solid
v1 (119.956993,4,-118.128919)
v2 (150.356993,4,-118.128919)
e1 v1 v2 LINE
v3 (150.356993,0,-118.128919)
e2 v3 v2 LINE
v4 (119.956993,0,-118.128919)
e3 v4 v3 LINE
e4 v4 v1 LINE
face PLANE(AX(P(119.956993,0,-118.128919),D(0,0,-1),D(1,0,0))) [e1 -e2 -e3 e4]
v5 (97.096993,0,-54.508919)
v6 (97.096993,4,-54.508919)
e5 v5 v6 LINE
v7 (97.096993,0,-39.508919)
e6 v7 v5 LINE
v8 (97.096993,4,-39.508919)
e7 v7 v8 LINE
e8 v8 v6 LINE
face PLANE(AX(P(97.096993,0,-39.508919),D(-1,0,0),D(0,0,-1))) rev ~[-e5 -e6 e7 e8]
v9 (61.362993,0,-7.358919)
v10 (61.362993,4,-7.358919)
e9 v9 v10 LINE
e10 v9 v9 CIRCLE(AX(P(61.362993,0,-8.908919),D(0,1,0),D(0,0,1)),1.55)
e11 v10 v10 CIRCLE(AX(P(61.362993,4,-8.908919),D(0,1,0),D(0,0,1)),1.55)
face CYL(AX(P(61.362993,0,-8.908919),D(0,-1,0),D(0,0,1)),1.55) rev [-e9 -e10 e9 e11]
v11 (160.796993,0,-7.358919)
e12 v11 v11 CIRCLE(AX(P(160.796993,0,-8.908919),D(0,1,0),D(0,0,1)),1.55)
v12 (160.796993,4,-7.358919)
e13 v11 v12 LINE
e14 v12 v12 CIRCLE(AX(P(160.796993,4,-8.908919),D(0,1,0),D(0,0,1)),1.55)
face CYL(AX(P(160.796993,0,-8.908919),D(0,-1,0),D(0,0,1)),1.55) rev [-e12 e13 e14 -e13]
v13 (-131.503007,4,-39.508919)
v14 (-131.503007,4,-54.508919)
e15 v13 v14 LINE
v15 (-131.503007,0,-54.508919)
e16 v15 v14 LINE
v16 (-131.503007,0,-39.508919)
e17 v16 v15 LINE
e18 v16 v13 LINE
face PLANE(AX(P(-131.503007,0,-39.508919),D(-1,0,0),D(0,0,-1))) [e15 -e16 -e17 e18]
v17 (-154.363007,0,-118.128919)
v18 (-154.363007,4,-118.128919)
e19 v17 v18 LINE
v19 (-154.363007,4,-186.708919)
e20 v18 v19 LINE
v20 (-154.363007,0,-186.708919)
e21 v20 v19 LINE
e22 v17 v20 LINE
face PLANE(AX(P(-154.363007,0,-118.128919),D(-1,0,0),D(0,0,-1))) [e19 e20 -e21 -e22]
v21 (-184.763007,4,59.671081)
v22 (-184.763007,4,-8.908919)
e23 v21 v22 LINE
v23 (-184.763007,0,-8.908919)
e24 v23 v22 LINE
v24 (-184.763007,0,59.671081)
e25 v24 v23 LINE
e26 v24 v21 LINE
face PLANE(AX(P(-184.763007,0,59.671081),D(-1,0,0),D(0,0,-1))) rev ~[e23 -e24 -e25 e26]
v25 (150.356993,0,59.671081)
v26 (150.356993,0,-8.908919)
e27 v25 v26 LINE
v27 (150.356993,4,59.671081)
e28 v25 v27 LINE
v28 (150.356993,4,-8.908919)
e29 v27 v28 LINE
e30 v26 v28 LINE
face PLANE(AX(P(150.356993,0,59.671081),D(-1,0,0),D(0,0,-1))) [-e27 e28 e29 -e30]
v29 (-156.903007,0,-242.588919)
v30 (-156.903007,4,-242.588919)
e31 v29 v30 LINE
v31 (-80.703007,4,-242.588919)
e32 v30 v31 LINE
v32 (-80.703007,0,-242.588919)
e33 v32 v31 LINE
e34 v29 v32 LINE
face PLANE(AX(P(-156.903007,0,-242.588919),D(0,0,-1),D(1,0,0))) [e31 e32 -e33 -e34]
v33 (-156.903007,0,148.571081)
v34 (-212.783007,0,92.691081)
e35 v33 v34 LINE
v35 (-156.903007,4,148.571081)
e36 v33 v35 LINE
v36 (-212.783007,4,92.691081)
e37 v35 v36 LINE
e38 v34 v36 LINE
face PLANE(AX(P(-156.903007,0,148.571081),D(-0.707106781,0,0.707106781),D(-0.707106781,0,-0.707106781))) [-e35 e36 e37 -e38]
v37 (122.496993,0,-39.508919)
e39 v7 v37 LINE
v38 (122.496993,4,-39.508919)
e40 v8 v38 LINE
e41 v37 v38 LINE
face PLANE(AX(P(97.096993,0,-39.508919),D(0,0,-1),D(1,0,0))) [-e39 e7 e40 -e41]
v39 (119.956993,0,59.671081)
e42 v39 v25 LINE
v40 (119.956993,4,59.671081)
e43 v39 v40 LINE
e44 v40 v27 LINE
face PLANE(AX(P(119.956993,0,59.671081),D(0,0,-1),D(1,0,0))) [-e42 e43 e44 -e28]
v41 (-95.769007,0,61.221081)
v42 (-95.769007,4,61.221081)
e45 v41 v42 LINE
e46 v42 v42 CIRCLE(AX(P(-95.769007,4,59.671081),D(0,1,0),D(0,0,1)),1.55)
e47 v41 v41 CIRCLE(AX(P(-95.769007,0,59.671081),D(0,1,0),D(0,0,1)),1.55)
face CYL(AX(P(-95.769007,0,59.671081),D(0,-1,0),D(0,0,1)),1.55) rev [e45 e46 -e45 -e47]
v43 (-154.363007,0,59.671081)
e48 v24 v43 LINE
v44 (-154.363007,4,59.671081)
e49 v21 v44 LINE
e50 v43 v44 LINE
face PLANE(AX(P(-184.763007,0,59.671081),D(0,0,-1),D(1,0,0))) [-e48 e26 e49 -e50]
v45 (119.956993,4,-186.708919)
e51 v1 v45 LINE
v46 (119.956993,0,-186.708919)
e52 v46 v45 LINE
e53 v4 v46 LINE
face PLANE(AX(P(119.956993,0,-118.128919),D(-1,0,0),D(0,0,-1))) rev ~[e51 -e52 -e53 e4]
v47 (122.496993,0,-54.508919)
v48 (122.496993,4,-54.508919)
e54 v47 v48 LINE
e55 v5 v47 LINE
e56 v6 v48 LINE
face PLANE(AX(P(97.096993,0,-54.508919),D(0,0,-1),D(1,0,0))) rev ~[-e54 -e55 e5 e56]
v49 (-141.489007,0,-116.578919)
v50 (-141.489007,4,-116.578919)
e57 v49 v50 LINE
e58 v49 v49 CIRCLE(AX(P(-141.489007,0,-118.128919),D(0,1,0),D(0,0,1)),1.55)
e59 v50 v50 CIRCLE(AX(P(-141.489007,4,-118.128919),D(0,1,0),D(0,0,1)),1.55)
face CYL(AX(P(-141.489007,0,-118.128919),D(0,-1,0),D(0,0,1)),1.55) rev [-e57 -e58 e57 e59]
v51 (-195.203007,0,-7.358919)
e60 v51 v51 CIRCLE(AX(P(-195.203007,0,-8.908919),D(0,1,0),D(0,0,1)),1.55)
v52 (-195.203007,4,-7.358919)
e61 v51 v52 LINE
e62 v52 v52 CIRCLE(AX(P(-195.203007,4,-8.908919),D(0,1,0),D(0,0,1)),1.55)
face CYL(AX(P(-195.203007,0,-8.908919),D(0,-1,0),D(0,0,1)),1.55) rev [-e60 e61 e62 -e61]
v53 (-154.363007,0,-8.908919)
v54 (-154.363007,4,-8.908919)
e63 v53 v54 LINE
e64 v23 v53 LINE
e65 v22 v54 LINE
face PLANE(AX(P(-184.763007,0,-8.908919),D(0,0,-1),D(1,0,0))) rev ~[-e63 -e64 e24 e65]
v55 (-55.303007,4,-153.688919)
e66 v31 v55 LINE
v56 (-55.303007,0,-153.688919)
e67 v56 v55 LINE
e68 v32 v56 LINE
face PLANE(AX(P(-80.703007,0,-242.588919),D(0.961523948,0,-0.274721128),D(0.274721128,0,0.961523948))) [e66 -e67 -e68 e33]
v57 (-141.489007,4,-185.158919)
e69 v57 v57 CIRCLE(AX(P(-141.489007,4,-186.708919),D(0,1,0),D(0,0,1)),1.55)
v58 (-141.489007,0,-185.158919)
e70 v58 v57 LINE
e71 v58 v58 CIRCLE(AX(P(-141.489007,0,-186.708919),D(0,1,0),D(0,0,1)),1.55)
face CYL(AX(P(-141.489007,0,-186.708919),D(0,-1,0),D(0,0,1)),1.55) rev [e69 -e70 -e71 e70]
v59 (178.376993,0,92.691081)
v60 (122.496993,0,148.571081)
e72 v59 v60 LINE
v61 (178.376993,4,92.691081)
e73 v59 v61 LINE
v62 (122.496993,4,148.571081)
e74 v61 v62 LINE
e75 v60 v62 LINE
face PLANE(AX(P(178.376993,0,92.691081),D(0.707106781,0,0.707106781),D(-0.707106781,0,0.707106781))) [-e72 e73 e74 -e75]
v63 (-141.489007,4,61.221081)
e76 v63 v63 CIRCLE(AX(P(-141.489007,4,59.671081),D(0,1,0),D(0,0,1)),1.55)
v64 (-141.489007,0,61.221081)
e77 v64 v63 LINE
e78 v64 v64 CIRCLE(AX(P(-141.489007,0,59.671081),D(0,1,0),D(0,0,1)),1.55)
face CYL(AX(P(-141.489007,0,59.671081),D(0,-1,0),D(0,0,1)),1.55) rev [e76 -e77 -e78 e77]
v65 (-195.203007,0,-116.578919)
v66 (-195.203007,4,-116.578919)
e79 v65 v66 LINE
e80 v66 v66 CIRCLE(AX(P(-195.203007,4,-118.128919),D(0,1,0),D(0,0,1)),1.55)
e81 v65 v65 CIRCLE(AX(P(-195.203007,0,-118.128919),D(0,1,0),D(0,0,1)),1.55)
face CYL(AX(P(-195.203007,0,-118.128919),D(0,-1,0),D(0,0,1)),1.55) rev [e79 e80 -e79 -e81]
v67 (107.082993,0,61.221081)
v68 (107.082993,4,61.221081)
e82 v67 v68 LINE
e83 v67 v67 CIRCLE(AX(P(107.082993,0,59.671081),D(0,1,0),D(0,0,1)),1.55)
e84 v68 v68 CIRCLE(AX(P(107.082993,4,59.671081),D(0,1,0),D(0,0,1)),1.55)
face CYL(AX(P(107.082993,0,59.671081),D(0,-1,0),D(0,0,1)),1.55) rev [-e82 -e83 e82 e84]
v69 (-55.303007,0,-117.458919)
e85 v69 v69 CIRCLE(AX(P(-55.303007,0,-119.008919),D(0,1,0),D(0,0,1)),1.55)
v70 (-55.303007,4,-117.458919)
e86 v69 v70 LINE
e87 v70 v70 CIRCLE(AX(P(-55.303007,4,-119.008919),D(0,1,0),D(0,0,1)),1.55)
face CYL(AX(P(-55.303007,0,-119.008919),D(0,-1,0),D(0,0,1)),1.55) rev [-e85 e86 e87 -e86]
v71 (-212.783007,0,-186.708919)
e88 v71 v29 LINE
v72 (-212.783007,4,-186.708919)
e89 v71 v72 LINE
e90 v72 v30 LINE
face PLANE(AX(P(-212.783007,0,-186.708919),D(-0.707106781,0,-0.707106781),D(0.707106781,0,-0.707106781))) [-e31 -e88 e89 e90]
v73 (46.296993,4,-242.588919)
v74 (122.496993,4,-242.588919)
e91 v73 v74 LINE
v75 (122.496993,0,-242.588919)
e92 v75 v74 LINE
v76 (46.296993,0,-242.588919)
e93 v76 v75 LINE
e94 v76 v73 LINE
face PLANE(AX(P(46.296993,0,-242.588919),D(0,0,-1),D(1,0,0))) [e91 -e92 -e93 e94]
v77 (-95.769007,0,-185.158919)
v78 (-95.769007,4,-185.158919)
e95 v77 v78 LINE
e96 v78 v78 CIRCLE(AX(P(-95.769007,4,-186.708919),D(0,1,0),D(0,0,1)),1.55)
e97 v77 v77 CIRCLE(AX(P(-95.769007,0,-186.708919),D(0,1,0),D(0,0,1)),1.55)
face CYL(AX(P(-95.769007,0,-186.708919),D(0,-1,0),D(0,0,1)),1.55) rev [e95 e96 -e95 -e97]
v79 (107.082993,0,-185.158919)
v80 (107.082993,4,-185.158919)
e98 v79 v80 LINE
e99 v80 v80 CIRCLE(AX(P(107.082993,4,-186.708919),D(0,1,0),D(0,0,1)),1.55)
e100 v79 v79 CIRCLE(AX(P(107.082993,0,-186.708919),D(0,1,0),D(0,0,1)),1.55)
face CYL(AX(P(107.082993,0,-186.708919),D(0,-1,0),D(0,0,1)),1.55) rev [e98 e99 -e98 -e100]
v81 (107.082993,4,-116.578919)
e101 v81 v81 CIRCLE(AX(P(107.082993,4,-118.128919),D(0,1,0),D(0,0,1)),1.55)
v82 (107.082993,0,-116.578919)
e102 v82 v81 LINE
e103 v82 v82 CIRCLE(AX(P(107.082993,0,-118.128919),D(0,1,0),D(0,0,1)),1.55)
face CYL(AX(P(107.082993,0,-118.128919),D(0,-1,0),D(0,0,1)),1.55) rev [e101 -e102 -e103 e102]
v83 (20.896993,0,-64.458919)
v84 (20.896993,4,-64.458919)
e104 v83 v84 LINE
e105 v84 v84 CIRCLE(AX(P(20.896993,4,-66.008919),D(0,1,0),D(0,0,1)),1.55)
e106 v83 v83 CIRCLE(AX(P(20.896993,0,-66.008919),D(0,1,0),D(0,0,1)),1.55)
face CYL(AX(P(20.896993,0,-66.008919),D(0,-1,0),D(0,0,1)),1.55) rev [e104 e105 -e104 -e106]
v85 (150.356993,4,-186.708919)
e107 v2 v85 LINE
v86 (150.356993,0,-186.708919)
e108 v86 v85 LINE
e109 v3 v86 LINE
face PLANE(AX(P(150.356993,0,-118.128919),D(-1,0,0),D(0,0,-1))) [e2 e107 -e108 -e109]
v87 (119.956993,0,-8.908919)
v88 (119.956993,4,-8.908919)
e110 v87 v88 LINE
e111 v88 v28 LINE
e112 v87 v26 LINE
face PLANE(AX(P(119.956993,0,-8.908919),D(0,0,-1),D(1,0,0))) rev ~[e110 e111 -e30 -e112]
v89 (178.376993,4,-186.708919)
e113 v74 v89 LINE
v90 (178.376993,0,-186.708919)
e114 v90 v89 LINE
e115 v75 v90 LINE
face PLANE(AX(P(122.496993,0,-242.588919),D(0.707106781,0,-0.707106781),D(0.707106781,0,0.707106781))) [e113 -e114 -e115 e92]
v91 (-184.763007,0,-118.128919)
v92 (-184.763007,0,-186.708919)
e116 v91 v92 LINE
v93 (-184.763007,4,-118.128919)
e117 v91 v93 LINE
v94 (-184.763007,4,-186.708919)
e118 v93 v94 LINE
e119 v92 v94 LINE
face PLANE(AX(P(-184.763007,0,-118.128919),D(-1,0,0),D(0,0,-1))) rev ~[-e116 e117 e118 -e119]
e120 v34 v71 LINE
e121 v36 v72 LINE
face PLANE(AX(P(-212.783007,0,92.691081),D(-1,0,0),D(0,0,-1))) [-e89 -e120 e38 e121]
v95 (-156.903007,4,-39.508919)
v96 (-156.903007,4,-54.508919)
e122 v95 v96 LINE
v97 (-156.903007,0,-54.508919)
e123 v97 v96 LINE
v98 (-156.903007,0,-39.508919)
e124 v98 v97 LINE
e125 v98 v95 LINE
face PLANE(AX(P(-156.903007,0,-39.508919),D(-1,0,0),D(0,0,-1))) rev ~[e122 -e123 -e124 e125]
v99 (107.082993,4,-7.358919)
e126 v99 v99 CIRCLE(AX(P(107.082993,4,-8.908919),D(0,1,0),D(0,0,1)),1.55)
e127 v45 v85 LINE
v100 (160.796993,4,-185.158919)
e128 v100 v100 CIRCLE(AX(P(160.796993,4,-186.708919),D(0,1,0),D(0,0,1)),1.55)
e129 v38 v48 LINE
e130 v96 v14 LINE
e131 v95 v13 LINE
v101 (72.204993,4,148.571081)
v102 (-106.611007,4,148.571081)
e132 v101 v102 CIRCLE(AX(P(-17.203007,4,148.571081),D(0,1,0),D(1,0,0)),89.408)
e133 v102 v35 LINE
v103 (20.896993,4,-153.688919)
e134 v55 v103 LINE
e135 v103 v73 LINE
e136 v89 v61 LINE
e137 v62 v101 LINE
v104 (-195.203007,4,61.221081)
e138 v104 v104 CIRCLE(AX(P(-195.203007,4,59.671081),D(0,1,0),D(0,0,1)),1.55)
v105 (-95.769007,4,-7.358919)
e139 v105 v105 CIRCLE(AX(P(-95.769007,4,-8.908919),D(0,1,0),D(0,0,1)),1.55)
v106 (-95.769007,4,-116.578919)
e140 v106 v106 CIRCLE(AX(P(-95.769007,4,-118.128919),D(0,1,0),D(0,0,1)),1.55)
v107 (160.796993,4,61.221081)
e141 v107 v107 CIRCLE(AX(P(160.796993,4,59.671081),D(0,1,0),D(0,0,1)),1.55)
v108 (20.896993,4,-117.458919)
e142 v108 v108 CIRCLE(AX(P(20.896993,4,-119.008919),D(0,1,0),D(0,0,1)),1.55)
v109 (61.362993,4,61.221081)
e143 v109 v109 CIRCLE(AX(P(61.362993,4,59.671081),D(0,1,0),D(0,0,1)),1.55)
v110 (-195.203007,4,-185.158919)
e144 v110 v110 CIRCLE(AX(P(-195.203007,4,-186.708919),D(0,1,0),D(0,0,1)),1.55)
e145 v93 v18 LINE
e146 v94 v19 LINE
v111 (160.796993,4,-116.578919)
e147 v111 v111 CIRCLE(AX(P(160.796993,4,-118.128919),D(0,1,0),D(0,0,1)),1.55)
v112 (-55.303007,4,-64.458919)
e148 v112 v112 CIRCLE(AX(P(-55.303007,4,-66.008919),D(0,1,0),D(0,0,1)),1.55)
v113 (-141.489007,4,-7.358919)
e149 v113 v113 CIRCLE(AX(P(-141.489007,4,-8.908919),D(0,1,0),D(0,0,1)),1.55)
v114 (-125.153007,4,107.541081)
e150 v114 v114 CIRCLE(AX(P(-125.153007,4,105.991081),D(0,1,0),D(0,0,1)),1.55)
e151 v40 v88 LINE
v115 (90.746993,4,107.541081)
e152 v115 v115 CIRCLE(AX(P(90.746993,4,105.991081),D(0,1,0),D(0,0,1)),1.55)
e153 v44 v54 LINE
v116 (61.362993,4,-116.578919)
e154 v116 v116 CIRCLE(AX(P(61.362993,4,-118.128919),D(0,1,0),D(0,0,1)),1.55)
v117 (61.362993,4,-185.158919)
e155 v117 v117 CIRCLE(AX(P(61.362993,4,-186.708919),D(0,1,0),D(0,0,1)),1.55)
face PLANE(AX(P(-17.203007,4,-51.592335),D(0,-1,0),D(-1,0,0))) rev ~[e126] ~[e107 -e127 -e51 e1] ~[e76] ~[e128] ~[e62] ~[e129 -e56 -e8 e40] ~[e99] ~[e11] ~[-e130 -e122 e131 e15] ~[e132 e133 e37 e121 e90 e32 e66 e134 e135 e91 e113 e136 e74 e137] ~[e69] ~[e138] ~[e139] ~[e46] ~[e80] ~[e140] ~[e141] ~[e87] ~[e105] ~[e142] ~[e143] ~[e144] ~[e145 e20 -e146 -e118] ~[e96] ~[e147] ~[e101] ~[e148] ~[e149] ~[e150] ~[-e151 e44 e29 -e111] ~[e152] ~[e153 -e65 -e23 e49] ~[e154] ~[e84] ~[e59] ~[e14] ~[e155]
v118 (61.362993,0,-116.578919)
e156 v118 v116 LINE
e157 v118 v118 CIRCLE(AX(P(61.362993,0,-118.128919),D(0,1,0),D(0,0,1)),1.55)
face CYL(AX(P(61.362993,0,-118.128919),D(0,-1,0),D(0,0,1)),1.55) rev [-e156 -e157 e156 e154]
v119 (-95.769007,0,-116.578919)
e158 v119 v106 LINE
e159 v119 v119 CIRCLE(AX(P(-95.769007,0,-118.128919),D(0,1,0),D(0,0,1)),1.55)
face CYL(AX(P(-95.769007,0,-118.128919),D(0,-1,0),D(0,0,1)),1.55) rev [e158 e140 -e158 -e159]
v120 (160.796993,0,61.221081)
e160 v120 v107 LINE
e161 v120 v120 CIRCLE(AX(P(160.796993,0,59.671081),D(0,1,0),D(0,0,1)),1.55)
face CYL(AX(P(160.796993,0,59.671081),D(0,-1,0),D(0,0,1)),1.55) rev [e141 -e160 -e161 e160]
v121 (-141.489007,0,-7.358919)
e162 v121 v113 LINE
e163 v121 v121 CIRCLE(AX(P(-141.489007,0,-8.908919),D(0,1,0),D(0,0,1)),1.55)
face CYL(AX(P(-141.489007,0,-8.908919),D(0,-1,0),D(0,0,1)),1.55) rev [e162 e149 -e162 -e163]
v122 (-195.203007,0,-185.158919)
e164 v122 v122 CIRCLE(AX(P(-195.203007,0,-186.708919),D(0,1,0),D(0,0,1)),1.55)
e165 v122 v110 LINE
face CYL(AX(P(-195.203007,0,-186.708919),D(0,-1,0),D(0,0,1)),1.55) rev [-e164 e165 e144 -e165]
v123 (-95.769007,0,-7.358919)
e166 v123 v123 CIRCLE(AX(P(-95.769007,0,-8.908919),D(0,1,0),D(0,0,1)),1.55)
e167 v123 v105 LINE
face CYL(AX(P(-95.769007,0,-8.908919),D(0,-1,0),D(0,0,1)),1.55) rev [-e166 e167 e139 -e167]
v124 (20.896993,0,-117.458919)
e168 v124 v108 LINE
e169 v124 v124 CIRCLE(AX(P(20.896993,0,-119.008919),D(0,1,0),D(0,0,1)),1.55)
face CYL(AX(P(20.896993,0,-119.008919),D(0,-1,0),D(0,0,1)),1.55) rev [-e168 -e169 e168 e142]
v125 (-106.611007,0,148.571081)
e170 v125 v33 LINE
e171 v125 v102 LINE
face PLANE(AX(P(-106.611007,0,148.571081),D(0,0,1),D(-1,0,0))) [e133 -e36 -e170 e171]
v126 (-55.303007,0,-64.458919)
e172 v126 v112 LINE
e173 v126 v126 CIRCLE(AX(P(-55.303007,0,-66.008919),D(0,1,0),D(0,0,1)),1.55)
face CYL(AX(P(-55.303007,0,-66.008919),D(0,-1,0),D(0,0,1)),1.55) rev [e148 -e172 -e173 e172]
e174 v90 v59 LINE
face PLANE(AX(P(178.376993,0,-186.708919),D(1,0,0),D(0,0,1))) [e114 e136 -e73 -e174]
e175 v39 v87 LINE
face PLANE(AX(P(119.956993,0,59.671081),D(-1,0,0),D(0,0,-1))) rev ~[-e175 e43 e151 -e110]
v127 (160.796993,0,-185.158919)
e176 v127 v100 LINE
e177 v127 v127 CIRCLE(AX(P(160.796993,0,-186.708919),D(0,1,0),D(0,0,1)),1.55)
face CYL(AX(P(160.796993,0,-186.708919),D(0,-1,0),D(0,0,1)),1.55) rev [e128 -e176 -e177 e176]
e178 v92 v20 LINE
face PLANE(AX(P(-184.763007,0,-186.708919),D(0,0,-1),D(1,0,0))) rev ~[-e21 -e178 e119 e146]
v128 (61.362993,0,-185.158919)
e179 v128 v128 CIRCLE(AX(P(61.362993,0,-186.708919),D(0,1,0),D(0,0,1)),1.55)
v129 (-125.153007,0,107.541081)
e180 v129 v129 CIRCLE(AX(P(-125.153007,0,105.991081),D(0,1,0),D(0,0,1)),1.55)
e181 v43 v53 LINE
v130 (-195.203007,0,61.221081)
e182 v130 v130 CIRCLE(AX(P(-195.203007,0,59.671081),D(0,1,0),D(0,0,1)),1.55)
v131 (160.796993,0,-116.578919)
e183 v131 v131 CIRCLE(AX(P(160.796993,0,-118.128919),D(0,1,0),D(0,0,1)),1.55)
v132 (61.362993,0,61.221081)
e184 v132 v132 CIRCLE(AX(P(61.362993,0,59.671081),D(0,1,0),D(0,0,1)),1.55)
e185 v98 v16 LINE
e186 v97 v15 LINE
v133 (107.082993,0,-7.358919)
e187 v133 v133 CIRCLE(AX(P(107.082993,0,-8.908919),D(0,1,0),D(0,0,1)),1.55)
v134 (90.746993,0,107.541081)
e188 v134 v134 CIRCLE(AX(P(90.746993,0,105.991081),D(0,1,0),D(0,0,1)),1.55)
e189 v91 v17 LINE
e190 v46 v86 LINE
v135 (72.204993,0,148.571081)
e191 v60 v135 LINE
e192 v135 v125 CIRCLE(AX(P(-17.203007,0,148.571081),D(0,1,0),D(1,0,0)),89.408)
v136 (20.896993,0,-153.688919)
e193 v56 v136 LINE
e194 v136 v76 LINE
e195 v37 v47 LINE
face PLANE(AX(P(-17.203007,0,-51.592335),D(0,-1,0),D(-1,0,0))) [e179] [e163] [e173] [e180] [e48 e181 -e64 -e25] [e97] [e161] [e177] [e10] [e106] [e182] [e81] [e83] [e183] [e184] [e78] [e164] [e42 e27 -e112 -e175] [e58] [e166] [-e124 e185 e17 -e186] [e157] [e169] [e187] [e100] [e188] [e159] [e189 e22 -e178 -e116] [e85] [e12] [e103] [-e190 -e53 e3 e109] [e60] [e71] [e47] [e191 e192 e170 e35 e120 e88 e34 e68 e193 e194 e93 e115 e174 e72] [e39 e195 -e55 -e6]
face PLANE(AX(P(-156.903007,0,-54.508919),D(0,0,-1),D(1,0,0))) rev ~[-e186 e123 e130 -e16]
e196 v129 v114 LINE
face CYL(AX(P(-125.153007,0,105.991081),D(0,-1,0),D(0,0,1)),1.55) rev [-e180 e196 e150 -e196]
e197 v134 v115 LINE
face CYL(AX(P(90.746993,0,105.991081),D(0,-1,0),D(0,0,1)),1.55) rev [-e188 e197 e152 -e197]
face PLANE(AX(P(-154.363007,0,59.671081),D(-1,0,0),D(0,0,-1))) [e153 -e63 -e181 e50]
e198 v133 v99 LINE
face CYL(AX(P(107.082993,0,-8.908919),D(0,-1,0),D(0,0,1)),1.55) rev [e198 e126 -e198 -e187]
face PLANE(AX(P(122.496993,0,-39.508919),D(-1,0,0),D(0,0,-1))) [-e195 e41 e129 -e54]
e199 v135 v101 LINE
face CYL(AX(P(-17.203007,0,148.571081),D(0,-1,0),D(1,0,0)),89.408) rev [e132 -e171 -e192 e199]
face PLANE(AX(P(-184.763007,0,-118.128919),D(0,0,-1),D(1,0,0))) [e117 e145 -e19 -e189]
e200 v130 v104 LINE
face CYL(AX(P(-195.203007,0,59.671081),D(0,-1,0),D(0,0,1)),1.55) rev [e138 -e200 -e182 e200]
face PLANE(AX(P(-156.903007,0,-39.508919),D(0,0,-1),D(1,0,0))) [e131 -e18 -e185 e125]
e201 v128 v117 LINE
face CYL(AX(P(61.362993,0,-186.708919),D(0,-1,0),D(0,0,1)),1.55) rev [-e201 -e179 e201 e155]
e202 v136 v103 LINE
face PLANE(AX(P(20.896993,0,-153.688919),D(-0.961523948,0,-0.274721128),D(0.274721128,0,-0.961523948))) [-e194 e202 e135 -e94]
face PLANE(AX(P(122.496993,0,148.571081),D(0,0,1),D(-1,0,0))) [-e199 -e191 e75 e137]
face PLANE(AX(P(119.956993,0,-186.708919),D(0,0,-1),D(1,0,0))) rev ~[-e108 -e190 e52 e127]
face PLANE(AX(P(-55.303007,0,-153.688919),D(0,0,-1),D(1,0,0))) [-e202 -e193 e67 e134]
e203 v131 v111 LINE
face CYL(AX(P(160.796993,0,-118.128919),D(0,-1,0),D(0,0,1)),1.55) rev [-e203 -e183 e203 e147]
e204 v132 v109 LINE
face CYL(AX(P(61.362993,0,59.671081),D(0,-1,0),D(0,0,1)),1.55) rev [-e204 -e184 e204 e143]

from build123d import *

# Parameters (mm, degrees)
SKETCH_1_R      = 1.55
SKETCH_1_W      = 30.4
SKETCH_1_H      = 68.58
SKETCH_1_W_2    = 25.4
SKETCH_1_H_2    = 15
EXTRUDE_1_DEPTH = 4


with BuildPart() as part:
    # 草图1 → 凸台-拉伸1 (new body)
    with BuildSketch(Plane(origin=(0, 0, 0), x_dir=(1, 0, 0), z_dir=(0, 1, 0))):
        with BuildLine():
            Line((-212.783006705, -92.69108054), (-212.783006705, 186.70891946))
            Line((-212.783006705, 186.70891946), (-156.903006705, 242.58891946))
            Line((-156.903006705, 242.58891946), (-80.703006705, 242.58891946))
            Line((-80.703006705, 242.58891946), (-55.303006705, 153.68891946))
            Line((-55.303006705, 153.68891946), (20.896993295, 153.68891946))
            Line((20.896993295, 153.68891946), (46.296993295, 242.58891946))
            Line((46.296993295, 242.58891946), (122.496993295, 242.58891946))
            Line((122.496993295, 242.58891946), (178.376993295, 186.70891946))
            Line((178.376993295, 186.70891946), (178.376993295, -92.69108054))
            Line((178.376993295, -92.69108054), (122.496993295, -148.57108054))
            Line((122.496993295, -148.57108054), (72.204993295, -148.57108054))
            ThreePointArc((72.204993295, -148.57108054), (-17.203006705, -59.16308054), (-106.611006705, -148.57108054))
            Line((-106.611006705, -148.57108054), (-156.903006705, -148.57108054))
            Line((-156.903006705, -148.57108054), (-212.783006705, -92.69108054))
        make_face()
        with Locations(Location((-141.489006705, 186.70891946, 0), (0, 0, 270))):
            Circle(SKETCH_1_R, mode=Mode.SUBTRACT)
        with Locations(Location((20.896993295, 66.00891946, 0), (0, 0, 270))):
            Circle(SKETCH_1_R, mode=Mode.SUBTRACT)
        with Locations(Location((90.746993295, -105.99108054, 0), (0, 0, 270))):
            Circle(SKETCH_1_R, mode=Mode.SUBTRACT)
        with Locations(Location((-125.153006705, -105.99108054, 0), (0, 0, 270))):
            Circle(SKETCH_1_R, mode=Mode.SUBTRACT)
        with Locations(Location((-141.489006705, 118.12891946, 0), (0, 0, 270))):
            Circle(SKETCH_1_R, mode=Mode.SUBTRACT)
        with Locations(Location((-95.769006705, 118.12891946, 0), (0, 0, 270))):
            Circle(SKETCH_1_R, mode=Mode.SUBTRACT)
        with Locations(Location((107.082993295, 118.12891946, 0), (0, 0, 270))):
            Circle(SKETCH_1_R, mode=Mode.SUBTRACT)
        with Locations(Location((-141.489006705, 8.90891946, 0), (0, 0, 270))):
            Circle(SKETCH_1_R, mode=Mode.SUBTRACT)
        with Locations(Location((61.362993295, 118.12891946, 0), (0, 0, 270))):
            Circle(SKETCH_1_R, mode=Mode.SUBTRACT)
        with Locations(Location((61.362993295, 186.70891946, 0), (0, 0, 270))):
            Circle(SKETCH_1_R, mode=Mode.SUBTRACT)
        with Locations(Location((-141.489006705, -59.67108054, 0), (0, 0, 270))):
            Circle(SKETCH_1_R, mode=Mode.SUBTRACT)
        with Locations(Location((-95.769006705, -59.67108054, 0), (0, 0, 270))):
            Circle(SKETCH_1_R, mode=Mode.SUBTRACT)
        with Locations(Location((-95.769006705, 186.70891946, 0), (0, 0, 270))):
            Circle(SKETCH_1_R, mode=Mode.SUBTRACT)
        with Locations(Location((107.082993295, -59.67108054, 0), (0, 0, 270))):
            Circle(SKETCH_1_R, mode=Mode.SUBTRACT)
        with Locations(Location((61.362993295, -59.67108054, 0), (0, 0, 270))):
            Circle(SKETCH_1_R, mode=Mode.SUBTRACT)
        with Locations(Location((107.082993295, 186.70891946, 0), (0, 0, 270))):
            Circle(SKETCH_1_R, mode=Mode.SUBTRACT)
        with Locations(Location((160.796993295, 186.70891946, 0), (0, 0, 270))):
            Circle(SKETCH_1_R, mode=Mode.SUBTRACT)
        with Locations(Location((-195.203006705, 118.12891946, 0), (0, 0, 270))):
            Circle(SKETCH_1_R, mode=Mode.SUBTRACT)
        with Locations(Location((-195.203006705, 186.70891946, 0), (0, 0, 270))):
            Circle(SKETCH_1_R, mode=Mode.SUBTRACT)
        with Locations(Location((160.796993295, 8.90891946, 0), (0, 0, 270))):
            Circle(SKETCH_1_R, mode=Mode.SUBTRACT)
        with Locations(Location((-55.303006705, 66.00891946, 0), (0, 0, 270))):
            Circle(SKETCH_1_R, mode=Mode.SUBTRACT)
        with Locations(Location((20.896993295, 119.00891946, 0), (0, 0, 270))):
            Circle(SKETCH_1_R, mode=Mode.SUBTRACT)
        with Locations(Location((-55.303006705, 119.00891946, 0), (0, 0, 270))):
            Circle(SKETCH_1_R, mode=Mode.SUBTRACT)
        with Locations(Location((160.796993295, 118.12891946, 0), (0, 0, 270))):
            Circle(SKETCH_1_R, mode=Mode.SUBTRACT)
        with Locations(Location((107.082993295, 8.90891946, 0), (0, 0, 270))):
            Circle(SKETCH_1_R, mode=Mode.SUBTRACT)
        with Locations(Location((61.362993295, 8.90891946, 0), (0, 0, 270))):
            Circle(SKETCH_1_R, mode=Mode.SUBTRACT)
        with Locations(Location((-95.769006705, 8.90891946, 0), (0, 0, 270))):
            Circle(SKETCH_1_R, mode=Mode.SUBTRACT)
        with Locations(Location((-195.203006705, 8.90891946, 0), (0, 0, 270))):
            Circle(SKETCH_1_R, mode=Mode.SUBTRACT)
        with Locations(Location((-195.203006705, -59.67108054, 0), (0, 0, 270))):
            Circle(SKETCH_1_R, mode=Mode.SUBTRACT)
        with Locations(Location((160.796993295, -59.67108054, 0), (0, 0, 270))):
            Circle(SKETCH_1_R, mode=Mode.SUBTRACT)
        with Locations((-169.563006705, -25.38108054)):
            Rectangle(SKETCH_1_W, SKETCH_1_H, mode=Mode.SUBTRACT)
        with Locations((135.156993295, 152.41891946)):
            Rectangle(SKETCH_1_W, SKETCH_1_H, mode=Mode.SUBTRACT)
        with Locations((135.156993295, -25.38108054)):
            Rectangle(SKETCH_1_W, SKETCH_1_H, mode=Mode.SUBTRACT)
        with Locations((-169.563006705, 152.41891946)):
            Rectangle(SKETCH_1_W, SKETCH_1_H, mode=Mode.SUBTRACT)
        with Locations((-144.203006705, 47.00891946)):
            Rectangle(SKETCH_1_W_2, SKETCH_1_H_2, mode=Mode.SUBTRACT)
        with Locations((109.796993295, 47.00891946)):
            Rectangle(SKETCH_1_W_2, SKETCH_1_H_2, mode=Mode.SUBTRACT)
    extrude(amount=EXTRUDE_1_DEPTH)


solid = part.part
